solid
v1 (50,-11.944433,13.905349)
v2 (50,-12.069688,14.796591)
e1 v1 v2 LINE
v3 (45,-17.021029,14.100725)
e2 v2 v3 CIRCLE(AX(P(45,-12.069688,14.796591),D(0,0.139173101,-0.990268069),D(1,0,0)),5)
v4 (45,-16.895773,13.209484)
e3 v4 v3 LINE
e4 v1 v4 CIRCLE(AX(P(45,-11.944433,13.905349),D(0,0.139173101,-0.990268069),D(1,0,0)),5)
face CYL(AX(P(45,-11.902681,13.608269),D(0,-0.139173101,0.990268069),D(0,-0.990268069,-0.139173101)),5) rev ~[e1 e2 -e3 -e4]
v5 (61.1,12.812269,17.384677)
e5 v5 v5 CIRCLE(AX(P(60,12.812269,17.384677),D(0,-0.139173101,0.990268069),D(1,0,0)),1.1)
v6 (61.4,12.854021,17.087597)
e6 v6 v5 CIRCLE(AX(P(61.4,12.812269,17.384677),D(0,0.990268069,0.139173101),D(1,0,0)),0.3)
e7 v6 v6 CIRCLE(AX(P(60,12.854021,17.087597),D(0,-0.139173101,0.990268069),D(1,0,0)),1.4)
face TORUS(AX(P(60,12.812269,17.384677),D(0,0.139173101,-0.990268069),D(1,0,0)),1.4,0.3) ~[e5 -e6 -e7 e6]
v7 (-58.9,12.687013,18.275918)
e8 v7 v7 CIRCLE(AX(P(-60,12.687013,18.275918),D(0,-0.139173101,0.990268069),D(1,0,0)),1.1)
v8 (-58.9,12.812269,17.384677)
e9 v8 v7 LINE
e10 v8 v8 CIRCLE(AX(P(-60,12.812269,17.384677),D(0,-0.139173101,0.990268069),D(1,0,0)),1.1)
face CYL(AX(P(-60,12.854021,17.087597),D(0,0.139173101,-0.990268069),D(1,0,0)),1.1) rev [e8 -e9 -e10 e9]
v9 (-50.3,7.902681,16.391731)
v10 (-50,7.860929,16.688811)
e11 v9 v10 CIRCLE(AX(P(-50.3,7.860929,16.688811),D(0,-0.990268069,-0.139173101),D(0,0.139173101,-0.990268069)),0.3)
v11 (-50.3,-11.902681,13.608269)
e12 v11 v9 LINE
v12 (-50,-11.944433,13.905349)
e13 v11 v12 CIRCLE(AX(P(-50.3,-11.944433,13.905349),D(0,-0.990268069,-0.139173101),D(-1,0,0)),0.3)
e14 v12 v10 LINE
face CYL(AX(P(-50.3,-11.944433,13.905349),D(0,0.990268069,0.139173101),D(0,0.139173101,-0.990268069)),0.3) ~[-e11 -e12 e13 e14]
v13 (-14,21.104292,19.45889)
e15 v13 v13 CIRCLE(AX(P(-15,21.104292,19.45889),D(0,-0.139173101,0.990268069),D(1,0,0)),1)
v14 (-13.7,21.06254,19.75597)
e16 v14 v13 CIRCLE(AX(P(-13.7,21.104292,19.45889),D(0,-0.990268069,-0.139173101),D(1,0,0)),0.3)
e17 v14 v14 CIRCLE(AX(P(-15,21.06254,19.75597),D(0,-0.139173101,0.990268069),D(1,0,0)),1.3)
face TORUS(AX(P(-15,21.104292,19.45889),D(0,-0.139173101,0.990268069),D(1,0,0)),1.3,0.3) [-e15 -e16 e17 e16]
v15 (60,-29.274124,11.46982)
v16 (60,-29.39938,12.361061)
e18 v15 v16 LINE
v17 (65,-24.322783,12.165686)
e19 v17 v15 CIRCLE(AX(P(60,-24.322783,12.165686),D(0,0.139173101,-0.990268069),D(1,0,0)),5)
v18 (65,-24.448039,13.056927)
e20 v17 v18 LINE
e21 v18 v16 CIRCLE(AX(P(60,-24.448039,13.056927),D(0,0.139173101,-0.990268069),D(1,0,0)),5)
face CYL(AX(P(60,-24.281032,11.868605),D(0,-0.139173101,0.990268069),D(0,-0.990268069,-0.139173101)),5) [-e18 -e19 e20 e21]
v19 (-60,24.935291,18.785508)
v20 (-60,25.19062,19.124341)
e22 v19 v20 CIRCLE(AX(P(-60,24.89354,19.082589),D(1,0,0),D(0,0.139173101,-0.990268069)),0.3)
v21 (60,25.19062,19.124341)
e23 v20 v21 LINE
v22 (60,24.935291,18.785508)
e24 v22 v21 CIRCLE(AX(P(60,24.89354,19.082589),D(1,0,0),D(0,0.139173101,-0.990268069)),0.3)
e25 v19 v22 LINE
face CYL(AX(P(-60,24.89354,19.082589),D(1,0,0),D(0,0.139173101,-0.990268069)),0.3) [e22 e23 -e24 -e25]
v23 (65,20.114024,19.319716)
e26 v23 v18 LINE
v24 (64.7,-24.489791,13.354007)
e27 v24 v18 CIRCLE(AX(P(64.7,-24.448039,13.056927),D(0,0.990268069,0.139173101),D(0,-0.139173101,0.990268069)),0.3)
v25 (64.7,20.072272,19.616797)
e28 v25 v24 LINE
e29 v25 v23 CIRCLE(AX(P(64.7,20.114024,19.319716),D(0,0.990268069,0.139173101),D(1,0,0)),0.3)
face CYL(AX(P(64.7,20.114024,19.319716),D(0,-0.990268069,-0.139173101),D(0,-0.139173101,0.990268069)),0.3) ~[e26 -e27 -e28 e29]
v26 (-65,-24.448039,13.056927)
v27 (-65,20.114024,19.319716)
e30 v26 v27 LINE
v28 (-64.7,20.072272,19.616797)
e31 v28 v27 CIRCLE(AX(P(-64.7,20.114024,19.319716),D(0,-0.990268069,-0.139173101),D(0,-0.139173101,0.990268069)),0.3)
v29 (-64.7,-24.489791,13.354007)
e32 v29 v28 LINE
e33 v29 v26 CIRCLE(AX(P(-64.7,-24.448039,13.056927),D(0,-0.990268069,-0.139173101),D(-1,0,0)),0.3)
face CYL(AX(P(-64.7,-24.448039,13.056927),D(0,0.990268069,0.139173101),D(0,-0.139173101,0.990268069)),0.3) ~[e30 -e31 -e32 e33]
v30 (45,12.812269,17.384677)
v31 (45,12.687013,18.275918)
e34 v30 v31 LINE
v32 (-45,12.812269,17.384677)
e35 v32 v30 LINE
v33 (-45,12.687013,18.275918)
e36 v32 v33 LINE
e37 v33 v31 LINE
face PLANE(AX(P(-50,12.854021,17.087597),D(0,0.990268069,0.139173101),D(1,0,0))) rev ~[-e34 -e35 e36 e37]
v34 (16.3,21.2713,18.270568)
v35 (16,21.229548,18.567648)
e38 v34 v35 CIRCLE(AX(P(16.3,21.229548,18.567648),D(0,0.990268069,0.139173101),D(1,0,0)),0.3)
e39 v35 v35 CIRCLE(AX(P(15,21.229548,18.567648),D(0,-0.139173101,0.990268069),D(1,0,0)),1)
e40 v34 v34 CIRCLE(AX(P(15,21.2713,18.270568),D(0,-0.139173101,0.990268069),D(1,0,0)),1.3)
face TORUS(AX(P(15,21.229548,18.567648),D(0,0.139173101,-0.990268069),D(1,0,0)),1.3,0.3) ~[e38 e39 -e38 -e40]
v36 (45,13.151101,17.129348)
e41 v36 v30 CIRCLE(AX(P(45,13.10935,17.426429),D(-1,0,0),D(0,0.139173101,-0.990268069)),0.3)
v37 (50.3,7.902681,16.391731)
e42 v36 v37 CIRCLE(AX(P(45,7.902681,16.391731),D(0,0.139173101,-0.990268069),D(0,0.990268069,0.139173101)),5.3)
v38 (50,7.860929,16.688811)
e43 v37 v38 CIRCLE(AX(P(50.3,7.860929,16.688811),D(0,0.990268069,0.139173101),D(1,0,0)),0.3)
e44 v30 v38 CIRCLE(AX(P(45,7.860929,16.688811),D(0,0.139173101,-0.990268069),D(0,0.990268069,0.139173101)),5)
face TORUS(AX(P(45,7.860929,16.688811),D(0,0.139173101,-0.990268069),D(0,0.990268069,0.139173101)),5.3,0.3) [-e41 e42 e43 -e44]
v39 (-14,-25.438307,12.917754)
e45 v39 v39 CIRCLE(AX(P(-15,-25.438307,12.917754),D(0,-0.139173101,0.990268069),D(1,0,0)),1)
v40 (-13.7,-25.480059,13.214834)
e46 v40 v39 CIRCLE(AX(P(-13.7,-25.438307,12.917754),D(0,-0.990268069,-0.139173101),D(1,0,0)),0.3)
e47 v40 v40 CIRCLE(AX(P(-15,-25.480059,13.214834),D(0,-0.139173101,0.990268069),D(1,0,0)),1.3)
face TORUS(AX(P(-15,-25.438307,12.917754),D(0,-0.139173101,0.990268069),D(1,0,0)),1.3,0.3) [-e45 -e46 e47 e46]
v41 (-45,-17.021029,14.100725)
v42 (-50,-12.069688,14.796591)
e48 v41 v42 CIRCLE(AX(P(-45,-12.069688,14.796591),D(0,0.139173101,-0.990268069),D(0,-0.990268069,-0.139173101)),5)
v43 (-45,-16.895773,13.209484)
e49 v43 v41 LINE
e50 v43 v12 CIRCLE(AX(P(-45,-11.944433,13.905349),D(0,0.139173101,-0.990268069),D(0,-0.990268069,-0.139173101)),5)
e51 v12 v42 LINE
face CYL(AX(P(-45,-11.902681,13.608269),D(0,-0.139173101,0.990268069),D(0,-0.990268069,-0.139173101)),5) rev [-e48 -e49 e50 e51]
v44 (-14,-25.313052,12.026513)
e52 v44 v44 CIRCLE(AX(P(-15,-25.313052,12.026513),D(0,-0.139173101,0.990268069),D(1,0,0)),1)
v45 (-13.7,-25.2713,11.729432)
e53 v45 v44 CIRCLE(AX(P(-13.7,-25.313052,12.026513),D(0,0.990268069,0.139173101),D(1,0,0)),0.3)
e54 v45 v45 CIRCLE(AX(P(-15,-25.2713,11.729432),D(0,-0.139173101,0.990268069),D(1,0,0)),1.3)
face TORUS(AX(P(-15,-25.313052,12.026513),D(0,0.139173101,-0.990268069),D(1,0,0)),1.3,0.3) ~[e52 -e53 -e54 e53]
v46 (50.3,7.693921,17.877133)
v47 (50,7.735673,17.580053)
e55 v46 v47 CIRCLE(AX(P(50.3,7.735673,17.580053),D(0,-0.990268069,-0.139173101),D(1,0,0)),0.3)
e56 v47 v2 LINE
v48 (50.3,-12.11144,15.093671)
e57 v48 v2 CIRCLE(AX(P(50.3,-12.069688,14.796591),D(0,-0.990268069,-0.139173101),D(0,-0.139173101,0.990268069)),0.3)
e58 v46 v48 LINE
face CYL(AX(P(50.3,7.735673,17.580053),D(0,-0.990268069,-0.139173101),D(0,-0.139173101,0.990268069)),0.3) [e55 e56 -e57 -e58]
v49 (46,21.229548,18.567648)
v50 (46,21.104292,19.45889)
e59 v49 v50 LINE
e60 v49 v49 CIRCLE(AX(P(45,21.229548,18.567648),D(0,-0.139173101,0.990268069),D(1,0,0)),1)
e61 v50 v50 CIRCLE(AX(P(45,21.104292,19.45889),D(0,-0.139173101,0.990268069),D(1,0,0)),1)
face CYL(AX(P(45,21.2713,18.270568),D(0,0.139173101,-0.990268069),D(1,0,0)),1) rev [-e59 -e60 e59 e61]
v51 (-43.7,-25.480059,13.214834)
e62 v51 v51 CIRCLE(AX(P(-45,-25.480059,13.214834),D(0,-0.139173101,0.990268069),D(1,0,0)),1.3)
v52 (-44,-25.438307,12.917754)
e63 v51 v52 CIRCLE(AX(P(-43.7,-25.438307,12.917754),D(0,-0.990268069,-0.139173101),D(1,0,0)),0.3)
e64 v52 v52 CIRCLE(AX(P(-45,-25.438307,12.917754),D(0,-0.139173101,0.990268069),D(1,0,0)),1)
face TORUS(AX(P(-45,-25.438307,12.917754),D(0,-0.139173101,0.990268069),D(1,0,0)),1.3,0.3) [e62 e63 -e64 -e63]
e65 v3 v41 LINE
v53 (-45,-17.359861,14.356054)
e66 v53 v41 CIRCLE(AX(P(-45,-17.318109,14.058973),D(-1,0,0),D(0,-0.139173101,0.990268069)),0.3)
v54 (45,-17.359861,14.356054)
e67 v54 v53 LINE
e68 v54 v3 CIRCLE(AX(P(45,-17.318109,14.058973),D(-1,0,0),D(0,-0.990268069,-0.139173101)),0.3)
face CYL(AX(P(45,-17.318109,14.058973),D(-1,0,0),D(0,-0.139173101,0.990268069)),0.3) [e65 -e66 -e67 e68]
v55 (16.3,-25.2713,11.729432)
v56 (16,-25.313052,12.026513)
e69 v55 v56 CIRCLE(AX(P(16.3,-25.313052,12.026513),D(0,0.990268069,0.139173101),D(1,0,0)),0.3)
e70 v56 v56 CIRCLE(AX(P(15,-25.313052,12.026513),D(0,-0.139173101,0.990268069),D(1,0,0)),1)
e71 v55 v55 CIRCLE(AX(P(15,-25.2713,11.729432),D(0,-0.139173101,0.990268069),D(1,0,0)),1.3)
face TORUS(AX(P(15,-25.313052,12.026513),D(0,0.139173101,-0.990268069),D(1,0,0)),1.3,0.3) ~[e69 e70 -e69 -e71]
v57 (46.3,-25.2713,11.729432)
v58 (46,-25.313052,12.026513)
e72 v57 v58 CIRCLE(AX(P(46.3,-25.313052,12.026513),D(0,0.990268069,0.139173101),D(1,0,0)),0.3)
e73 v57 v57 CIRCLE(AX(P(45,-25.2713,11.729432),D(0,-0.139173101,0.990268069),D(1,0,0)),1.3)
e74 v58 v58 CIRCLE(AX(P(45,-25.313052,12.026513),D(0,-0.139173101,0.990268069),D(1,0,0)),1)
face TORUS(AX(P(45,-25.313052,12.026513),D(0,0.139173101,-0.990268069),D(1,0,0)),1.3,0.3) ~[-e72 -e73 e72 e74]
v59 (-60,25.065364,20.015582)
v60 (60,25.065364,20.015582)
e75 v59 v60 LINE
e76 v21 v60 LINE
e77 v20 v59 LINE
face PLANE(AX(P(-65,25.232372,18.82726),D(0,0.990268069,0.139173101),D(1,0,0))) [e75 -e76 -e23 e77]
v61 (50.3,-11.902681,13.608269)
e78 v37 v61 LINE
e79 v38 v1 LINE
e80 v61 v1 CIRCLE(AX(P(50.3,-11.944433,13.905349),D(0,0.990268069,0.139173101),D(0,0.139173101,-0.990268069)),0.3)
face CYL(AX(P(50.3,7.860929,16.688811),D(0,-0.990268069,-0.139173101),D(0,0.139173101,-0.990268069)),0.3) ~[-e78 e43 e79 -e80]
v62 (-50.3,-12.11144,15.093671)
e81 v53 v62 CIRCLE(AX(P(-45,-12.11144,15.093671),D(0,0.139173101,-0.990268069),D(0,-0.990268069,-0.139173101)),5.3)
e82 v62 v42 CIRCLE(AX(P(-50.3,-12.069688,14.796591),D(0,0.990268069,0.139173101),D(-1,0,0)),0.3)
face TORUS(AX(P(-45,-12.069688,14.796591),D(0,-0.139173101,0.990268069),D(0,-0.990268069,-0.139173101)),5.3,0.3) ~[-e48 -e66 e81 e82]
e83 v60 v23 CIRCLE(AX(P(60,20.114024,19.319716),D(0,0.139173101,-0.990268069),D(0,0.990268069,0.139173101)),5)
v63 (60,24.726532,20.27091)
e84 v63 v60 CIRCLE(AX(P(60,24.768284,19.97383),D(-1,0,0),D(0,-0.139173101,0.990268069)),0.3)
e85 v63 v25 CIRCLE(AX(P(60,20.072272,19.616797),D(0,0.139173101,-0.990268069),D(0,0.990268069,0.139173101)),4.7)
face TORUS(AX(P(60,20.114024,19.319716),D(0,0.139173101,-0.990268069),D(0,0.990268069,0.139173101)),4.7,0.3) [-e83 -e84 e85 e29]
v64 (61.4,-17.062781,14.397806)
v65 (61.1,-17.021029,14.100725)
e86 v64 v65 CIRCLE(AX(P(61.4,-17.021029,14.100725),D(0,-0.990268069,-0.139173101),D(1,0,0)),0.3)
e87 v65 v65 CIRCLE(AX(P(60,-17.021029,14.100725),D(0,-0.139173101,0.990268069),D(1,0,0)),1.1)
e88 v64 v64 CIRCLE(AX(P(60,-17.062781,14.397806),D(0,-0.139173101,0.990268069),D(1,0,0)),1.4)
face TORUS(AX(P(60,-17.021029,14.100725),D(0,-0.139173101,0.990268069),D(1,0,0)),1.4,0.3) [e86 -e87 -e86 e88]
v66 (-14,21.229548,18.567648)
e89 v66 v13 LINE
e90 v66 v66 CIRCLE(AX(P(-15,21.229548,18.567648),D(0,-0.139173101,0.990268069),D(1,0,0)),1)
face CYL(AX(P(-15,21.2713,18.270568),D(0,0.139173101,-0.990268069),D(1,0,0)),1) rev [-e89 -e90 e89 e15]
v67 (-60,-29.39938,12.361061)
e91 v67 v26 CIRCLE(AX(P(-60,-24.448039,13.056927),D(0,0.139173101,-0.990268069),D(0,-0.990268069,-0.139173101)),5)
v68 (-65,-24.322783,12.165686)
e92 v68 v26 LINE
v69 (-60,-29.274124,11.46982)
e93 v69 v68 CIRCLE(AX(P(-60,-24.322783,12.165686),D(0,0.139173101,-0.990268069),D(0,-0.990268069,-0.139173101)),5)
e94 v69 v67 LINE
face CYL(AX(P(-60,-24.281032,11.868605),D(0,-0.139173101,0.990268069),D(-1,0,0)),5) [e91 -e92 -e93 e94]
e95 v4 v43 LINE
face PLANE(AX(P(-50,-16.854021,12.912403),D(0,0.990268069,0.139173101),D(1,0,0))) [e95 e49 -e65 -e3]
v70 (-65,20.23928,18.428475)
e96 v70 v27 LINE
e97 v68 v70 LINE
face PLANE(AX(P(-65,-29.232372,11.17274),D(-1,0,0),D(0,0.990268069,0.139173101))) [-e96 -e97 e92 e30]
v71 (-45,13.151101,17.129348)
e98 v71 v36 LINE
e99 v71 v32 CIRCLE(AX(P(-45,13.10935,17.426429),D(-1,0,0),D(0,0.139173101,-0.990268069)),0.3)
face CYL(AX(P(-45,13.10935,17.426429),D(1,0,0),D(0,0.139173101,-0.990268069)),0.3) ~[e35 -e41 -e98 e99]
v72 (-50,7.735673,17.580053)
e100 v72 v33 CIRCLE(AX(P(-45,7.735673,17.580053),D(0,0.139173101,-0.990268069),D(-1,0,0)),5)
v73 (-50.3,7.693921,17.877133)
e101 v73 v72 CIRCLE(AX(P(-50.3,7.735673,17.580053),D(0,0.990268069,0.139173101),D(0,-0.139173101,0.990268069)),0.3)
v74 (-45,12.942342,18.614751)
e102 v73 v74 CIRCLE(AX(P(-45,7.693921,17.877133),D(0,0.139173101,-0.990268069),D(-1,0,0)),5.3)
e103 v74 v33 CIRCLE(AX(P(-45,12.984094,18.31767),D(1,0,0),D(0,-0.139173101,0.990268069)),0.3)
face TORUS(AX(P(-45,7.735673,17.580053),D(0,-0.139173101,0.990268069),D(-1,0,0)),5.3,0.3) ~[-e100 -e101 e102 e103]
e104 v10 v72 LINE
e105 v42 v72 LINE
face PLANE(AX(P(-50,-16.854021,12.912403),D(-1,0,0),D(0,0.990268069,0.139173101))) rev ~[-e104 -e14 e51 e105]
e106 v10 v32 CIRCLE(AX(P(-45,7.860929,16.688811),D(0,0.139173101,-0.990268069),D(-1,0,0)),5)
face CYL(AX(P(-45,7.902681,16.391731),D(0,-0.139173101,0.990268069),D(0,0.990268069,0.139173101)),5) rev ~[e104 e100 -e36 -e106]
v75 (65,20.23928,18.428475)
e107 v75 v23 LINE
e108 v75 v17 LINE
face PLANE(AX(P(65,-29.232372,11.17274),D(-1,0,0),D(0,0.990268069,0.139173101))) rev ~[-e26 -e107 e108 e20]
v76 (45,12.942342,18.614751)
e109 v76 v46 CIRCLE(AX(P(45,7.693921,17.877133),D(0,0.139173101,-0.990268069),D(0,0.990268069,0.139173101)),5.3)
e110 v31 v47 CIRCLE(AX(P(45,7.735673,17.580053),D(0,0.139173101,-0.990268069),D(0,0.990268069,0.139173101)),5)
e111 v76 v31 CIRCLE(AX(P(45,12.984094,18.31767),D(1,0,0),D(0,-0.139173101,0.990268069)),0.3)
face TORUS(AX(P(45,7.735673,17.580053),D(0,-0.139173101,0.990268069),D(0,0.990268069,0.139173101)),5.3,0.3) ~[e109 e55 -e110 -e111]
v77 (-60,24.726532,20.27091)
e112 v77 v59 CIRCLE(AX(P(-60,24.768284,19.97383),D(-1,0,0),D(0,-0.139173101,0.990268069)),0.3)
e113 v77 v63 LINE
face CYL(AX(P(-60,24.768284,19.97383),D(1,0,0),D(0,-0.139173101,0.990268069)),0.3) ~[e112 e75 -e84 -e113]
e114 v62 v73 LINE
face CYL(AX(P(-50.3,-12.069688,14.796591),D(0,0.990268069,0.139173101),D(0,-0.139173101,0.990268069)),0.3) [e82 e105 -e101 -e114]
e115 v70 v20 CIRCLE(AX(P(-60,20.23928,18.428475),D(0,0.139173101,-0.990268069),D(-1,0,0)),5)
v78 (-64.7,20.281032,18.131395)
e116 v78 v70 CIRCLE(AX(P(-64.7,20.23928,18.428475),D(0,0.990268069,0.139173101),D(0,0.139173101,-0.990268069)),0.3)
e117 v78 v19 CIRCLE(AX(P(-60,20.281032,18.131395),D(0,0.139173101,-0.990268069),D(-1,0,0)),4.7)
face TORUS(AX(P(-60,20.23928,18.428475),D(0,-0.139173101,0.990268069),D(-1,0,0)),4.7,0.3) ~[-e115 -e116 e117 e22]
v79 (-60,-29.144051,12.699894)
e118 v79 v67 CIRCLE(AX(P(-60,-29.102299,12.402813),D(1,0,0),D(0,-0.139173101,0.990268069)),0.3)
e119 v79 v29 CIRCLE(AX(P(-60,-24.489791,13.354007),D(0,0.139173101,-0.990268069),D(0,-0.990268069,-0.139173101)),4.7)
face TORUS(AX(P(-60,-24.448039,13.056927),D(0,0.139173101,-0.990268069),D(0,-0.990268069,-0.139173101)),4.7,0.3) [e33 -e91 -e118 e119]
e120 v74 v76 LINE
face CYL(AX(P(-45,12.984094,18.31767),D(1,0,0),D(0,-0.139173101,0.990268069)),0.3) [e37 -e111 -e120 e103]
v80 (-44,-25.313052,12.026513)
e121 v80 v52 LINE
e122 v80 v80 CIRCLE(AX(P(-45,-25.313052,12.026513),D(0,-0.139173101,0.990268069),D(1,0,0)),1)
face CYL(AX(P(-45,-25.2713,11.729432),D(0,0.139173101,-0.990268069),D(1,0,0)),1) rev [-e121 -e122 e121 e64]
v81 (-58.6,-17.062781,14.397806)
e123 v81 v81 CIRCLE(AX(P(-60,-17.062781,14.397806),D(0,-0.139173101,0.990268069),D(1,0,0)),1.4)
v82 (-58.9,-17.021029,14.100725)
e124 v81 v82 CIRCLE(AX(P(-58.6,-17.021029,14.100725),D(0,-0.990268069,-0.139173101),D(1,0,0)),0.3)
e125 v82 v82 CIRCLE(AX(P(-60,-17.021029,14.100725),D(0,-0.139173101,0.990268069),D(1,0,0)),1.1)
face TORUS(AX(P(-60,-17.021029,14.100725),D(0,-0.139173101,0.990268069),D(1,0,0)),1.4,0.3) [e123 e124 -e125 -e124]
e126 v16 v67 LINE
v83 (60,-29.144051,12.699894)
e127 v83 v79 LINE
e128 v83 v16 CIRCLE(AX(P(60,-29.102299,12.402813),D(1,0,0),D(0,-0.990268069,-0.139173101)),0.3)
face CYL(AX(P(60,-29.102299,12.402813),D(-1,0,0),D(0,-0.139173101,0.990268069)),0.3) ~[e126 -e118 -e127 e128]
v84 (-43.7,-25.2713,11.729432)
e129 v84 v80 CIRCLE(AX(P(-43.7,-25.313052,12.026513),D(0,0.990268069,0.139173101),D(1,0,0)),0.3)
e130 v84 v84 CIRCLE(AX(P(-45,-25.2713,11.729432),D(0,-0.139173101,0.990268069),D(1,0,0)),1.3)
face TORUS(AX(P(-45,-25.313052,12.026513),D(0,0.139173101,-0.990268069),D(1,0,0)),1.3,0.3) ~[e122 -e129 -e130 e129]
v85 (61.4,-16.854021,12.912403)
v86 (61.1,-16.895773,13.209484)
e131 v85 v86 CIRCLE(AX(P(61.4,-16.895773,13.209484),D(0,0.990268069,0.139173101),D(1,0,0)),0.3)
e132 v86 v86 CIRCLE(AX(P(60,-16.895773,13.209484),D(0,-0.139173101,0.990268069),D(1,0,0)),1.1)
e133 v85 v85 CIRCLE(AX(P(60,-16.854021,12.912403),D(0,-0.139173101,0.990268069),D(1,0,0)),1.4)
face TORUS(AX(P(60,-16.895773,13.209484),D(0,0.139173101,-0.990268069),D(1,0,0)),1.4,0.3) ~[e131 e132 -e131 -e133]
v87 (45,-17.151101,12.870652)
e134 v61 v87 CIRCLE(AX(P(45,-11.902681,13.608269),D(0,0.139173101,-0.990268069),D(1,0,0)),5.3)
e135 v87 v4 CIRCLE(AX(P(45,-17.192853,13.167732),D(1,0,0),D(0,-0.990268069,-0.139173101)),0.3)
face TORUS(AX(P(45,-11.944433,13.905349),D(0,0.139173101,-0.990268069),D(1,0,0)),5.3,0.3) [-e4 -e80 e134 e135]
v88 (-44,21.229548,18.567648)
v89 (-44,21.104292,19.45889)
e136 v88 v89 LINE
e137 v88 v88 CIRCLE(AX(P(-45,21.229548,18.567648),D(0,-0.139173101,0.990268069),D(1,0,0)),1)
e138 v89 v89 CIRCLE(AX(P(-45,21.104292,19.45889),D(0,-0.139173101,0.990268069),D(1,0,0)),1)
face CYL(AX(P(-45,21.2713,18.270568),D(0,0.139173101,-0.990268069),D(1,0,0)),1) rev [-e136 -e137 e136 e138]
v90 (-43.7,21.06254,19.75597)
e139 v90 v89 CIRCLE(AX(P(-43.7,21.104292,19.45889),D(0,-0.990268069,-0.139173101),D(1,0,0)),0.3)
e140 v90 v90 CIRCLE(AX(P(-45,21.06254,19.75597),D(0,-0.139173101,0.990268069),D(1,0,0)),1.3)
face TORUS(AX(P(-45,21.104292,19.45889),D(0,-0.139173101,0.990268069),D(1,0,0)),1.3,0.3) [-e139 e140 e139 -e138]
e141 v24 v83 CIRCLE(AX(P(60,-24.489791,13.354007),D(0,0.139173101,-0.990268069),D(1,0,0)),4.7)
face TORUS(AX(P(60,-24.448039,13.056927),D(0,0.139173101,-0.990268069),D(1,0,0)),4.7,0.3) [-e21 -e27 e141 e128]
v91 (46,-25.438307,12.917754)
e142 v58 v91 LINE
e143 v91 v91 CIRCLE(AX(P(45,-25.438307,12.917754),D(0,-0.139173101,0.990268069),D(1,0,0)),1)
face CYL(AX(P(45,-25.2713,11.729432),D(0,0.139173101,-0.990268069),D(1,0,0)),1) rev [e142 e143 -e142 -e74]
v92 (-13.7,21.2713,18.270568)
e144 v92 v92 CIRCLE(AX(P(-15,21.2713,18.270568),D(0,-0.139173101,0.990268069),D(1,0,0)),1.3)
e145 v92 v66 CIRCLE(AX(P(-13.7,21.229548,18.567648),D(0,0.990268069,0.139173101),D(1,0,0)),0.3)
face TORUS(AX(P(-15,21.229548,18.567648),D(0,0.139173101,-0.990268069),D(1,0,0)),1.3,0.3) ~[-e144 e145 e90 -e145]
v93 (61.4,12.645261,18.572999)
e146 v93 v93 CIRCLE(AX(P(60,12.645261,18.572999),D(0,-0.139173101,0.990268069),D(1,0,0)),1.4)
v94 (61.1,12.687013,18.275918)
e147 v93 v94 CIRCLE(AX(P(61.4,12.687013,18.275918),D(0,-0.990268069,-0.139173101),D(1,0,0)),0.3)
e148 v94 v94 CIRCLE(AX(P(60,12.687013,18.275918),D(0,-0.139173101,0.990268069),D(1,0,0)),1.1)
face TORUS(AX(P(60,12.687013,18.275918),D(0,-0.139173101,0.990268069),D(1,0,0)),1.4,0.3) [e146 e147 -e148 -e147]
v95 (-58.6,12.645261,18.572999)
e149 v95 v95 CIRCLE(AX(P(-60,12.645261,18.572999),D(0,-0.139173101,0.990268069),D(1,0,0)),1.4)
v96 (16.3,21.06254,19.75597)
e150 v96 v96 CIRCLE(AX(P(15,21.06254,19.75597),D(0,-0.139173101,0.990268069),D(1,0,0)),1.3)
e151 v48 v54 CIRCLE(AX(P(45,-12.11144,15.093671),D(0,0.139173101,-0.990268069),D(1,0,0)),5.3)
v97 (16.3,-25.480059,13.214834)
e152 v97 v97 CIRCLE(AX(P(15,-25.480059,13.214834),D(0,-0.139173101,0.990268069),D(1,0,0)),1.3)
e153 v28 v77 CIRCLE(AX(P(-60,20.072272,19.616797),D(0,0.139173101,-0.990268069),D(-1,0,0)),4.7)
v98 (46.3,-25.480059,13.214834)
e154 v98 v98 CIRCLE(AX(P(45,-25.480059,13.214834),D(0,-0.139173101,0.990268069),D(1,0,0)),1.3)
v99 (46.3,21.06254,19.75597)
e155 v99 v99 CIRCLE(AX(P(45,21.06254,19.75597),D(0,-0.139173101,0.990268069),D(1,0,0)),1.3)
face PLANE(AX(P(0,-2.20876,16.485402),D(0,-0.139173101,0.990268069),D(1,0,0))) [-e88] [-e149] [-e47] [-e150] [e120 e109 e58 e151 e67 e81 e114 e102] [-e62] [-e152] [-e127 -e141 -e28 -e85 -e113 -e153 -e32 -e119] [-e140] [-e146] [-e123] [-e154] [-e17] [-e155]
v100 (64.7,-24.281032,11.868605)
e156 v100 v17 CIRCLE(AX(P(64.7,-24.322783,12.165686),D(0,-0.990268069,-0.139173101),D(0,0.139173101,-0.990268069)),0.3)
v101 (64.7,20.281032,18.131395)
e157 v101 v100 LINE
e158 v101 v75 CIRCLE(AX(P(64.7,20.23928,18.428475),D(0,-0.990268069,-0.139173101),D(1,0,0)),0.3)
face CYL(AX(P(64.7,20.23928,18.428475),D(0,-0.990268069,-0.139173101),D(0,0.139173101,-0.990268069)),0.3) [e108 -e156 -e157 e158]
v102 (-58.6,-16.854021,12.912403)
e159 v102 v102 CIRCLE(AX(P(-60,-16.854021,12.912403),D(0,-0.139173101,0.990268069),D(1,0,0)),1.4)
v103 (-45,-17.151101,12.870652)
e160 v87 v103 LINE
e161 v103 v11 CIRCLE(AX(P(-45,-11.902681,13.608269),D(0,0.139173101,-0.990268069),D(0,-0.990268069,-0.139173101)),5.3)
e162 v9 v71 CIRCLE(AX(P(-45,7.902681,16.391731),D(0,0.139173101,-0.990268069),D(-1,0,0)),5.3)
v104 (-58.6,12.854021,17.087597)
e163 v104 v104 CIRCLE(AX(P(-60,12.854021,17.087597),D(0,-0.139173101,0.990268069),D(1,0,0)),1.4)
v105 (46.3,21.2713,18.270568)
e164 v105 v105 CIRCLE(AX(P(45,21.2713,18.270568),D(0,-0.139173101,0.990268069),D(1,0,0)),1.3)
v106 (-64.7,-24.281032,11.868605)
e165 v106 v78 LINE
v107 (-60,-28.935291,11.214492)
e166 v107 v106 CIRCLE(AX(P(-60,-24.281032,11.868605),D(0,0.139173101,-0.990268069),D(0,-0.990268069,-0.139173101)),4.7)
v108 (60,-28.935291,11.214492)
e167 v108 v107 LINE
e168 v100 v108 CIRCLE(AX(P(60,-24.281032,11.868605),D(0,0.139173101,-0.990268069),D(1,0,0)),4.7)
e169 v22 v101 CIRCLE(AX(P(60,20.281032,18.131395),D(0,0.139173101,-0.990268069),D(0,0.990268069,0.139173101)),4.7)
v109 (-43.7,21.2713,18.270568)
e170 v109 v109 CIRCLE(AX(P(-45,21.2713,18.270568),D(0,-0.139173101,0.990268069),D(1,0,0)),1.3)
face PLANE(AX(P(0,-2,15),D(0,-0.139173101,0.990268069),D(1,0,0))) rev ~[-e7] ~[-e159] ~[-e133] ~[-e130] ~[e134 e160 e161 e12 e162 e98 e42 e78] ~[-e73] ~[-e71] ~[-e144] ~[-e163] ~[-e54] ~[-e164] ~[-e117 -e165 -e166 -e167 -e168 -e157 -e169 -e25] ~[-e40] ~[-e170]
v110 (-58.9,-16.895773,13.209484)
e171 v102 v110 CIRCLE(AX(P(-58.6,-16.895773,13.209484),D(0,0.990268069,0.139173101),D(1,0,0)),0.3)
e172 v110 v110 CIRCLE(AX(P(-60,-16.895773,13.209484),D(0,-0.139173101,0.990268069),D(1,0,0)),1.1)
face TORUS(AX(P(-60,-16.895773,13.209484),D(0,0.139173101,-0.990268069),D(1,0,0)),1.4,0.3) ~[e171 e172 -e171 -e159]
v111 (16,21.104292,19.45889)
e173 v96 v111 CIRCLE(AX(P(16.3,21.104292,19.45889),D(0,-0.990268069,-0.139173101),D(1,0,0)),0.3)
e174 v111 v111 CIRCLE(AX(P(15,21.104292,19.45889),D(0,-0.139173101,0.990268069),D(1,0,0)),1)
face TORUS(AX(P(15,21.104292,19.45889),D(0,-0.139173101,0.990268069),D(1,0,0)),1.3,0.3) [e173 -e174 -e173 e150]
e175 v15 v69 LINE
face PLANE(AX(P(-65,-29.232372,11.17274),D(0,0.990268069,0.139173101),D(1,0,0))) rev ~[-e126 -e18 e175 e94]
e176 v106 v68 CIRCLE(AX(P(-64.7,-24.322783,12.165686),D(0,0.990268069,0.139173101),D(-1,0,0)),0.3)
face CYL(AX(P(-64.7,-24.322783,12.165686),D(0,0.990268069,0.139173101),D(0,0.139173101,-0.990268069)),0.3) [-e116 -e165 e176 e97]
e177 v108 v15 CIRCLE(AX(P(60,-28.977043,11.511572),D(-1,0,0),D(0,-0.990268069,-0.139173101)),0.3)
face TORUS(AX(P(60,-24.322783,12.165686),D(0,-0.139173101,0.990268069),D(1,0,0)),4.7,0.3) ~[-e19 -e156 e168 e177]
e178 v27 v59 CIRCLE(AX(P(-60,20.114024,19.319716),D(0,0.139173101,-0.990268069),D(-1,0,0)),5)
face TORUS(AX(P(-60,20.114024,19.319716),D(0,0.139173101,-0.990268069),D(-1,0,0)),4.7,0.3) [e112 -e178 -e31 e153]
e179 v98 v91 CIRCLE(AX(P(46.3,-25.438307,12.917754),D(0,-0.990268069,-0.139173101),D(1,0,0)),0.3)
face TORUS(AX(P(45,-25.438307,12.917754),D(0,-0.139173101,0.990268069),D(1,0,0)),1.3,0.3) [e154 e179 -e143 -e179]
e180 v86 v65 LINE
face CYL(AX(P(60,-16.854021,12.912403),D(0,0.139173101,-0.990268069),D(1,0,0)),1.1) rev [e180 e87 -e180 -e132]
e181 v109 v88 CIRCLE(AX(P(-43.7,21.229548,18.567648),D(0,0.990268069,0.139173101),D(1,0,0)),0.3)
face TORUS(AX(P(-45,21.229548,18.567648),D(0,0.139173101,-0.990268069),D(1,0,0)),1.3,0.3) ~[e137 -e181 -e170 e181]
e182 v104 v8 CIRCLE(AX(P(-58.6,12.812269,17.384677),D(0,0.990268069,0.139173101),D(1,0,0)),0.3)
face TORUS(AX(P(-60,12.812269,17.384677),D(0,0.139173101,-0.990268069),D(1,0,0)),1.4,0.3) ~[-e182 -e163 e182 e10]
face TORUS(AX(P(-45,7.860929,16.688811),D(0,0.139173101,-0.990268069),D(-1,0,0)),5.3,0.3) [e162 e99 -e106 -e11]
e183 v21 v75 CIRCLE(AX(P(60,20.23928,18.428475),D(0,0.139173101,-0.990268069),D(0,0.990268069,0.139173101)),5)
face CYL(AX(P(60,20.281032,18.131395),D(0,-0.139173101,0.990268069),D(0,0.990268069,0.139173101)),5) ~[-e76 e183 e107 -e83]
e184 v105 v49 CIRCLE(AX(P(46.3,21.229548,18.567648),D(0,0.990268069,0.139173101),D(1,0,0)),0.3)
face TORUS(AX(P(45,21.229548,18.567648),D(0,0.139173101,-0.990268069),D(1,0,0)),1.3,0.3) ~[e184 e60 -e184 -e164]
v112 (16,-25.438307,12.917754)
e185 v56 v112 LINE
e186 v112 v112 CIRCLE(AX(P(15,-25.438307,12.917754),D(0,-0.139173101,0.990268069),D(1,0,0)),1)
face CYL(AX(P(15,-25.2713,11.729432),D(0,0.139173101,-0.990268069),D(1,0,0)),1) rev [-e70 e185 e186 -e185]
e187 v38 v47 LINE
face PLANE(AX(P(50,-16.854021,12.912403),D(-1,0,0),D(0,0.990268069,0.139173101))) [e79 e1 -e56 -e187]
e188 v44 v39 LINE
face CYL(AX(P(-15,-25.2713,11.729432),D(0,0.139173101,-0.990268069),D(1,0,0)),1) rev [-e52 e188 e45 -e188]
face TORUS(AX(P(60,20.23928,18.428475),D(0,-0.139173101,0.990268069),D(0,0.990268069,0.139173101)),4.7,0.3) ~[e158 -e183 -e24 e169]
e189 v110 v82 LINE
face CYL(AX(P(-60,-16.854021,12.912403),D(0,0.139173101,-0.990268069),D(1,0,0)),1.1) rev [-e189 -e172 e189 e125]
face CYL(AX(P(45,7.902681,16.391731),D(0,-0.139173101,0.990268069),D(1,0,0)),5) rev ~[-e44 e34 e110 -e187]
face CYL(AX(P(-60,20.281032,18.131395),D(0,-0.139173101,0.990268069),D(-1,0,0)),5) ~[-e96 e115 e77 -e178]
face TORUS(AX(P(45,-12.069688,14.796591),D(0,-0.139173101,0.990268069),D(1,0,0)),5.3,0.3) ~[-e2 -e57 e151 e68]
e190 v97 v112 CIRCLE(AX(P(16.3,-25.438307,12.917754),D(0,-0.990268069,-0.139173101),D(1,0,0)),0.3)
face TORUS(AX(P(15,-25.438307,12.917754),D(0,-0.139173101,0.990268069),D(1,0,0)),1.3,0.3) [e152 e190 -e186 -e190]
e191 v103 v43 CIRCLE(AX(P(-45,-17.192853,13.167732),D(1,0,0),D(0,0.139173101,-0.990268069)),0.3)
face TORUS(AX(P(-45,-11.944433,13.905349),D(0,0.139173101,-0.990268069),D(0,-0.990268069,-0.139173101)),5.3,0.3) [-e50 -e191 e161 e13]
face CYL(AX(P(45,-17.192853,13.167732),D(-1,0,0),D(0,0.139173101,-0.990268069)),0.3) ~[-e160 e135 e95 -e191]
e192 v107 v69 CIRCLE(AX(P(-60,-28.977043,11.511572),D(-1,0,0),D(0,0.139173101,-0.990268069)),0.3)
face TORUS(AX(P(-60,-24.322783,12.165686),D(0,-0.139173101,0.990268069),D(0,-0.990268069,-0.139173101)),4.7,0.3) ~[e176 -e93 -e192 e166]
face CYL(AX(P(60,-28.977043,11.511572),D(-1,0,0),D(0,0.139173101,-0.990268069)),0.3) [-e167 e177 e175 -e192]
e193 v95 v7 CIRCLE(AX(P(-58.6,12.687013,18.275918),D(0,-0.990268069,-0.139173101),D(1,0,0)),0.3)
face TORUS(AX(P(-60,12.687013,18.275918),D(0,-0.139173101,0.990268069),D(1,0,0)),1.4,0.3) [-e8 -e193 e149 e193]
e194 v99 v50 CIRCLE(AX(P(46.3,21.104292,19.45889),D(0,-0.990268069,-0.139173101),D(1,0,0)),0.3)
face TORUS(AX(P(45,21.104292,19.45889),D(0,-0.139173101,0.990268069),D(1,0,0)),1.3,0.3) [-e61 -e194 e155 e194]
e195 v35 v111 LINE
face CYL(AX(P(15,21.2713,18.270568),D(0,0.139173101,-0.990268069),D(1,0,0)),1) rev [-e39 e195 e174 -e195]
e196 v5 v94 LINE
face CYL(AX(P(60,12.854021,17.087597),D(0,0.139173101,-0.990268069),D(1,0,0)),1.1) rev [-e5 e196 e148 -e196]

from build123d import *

# Parameters (mm, degrees)
SKETCH004_W             = 130
SKETCH004_H             = 55
SKETCH004_R             = 1
SKETCH004_R_2           = 1.1
SKETCH004_W_2           = 100
SKETCH004_H_2           = 30
PAD_DEPTH               = 1.5
FILLET_R                = 5
FILLET001_R             = 0.3
BODY001_PLACEMENT_ANGLE = 8


with BuildPart() as part:
    # Sketch004 → Pad (new body)
    with BuildSketch(Plane.XY):
        Rectangle(SKETCH004_W, SKETCH004_H)
        with Locations((-45, 23.5)):
            Circle(SKETCH004_R, mode=Mode.SUBTRACT)
        with Locations((-45, -23.5)):
            Circle(SKETCH004_R, mode=Mode.SUBTRACT)
        with Locations((-15, 23.5)):
            Circle(SKETCH004_R, mode=Mode.SUBTRACT)
        with Locations((-15, -23.5)):
            Circle(SKETCH004_R, mode=Mode.SUBTRACT)
        with Locations((15, 23.5)):
            Circle(SKETCH004_R, mode=Mode.SUBTRACT)
        with Locations((15, -23.5)):
            Circle(SKETCH004_R, mode=Mode.SUBTRACT)
        with Locations((45, -23.5)):
            Circle(SKETCH004_R, mode=Mode.SUBTRACT)
        with Locations((45, 23.5)):
            Circle(SKETCH004_R, mode=Mode.SUBTRACT)
        with Locations((60, 15)):
            Circle(SKETCH004_R_2, mode=Mode.SUBTRACT)
        with Locations((60, -15)):
            Circle(SKETCH004_R_2, mode=Mode.SUBTRACT)
        with Locations((-60, 15)):
            Circle(SKETCH004_R_2, mode=Mode.SUBTRACT)
        with Locations((-60, -15)):
            Circle(SKETCH004_R_2, mode=Mode.SUBTRACT)
        Rectangle(SKETCH004_W_2, SKETCH004_H_2, mode=Mode.SUBTRACT)
    extrude(amount=PAD_DEPTH)

    # Fillet
    fillet_edges = [part.edges().sort_by_distance(p)[0] for p in [
        (65, -27.5, 0.75),
        (65, 27.5, 0.75),
        (-65, 27.5, 0.75),
        (-65, -27.5, 0.75),
        (-50, 15, 0.75),
        (50, 15, 0.75),
        (50, -15, 0.75),
        (-50, -15, 0.75),
    ]]
    fillet(fillet_edges, radius=FILLET_R)

    # Fillet001
    fillet001_edges = [part.edges().sort_by_distance(p)[0] for p in [
        (0, 27.5, 1.5),
        (-63.535534, 26.035534, 1.5),
        (63.535534, 26.035534, 1.5),
        (-65, 0, 1.5),
        (65, 0, 1.5),
        (-63.535534, -26.035534, 1.5),
        (63.535534, -26.035534, 1.5),
        (0, -27.5, 1.5),
        (-61.1, -15, 1.5),
        (-61.1, 15, 1.5),
        (58.9, -15, 1.5),
        (58.9, 15, 1.5),
        (-16, -23.5, 1.5),
        (-16, 23.5, 1.5),
        (44, 23.5, 1.5),
        (44, -23.5, 1.5),
        (14, -23.5, 1.5),
        (14, 23.5, 1.5),
        (-46, -23.5, 1.5),
        (-46, 23.5, 1.5),
        (0, 15, 1.5),
        (-48.535534, 13.535534, 1.5),
        (48.535534, 13.535534, 1.5),
        (-50, 0, 1.5),
        (50, 0, 1.5),
        (-48.535534, -13.535534, 1.5),
        (48.535534, -13.535534, 1.5),
        (0, -15, 1.5),
        (0, 27.5, 0),
        (-63.535534, 26.035534, 0),
        (63.535534, 26.035534, 0),
        (-65, 0, 0),
        (65, 0, 0),
        (-63.535534, -26.035534, 0),
        (63.535534, -26.035534, 0),
        (0, -27.5, 0),
        (-61.1, -15, 0),
        (-61.1, 15, 0),
        (58.9, -15, 0),
        (58.9, 15, 0),
        (-16, -23.5, 0),
        (-16, 23.5, 0),
        (44, 23.5, 0),
        (44, -23.5, 0),
        (14, -23.5, 0),
        (14, 23.5, 0),
        (-46, -23.5, 0),
        (-46, 23.5, 0),
        (0, 15, 0),
        (-48.535534, 13.535534, 0),
        (48.535534, 13.535534, 0),
        (-50, 0, 0),
        (50, 0, 0),
        (-48.535534, -13.535534, 0),
        (48.535534, -13.535534, 0),
        (0, -15, 0),
    ]]
    fillet(fillet001_edges, radius=FILLET001_R)


with BuildPart() as part_1:
    # Body001 placement: moved
    add(part.part.moved(Location((0, -2, 15))).rotate(Axis((0, -2, 15), (1, 0, 0)), BODY001_PLACEMENT_ANGLE))


solid = part_1.part
